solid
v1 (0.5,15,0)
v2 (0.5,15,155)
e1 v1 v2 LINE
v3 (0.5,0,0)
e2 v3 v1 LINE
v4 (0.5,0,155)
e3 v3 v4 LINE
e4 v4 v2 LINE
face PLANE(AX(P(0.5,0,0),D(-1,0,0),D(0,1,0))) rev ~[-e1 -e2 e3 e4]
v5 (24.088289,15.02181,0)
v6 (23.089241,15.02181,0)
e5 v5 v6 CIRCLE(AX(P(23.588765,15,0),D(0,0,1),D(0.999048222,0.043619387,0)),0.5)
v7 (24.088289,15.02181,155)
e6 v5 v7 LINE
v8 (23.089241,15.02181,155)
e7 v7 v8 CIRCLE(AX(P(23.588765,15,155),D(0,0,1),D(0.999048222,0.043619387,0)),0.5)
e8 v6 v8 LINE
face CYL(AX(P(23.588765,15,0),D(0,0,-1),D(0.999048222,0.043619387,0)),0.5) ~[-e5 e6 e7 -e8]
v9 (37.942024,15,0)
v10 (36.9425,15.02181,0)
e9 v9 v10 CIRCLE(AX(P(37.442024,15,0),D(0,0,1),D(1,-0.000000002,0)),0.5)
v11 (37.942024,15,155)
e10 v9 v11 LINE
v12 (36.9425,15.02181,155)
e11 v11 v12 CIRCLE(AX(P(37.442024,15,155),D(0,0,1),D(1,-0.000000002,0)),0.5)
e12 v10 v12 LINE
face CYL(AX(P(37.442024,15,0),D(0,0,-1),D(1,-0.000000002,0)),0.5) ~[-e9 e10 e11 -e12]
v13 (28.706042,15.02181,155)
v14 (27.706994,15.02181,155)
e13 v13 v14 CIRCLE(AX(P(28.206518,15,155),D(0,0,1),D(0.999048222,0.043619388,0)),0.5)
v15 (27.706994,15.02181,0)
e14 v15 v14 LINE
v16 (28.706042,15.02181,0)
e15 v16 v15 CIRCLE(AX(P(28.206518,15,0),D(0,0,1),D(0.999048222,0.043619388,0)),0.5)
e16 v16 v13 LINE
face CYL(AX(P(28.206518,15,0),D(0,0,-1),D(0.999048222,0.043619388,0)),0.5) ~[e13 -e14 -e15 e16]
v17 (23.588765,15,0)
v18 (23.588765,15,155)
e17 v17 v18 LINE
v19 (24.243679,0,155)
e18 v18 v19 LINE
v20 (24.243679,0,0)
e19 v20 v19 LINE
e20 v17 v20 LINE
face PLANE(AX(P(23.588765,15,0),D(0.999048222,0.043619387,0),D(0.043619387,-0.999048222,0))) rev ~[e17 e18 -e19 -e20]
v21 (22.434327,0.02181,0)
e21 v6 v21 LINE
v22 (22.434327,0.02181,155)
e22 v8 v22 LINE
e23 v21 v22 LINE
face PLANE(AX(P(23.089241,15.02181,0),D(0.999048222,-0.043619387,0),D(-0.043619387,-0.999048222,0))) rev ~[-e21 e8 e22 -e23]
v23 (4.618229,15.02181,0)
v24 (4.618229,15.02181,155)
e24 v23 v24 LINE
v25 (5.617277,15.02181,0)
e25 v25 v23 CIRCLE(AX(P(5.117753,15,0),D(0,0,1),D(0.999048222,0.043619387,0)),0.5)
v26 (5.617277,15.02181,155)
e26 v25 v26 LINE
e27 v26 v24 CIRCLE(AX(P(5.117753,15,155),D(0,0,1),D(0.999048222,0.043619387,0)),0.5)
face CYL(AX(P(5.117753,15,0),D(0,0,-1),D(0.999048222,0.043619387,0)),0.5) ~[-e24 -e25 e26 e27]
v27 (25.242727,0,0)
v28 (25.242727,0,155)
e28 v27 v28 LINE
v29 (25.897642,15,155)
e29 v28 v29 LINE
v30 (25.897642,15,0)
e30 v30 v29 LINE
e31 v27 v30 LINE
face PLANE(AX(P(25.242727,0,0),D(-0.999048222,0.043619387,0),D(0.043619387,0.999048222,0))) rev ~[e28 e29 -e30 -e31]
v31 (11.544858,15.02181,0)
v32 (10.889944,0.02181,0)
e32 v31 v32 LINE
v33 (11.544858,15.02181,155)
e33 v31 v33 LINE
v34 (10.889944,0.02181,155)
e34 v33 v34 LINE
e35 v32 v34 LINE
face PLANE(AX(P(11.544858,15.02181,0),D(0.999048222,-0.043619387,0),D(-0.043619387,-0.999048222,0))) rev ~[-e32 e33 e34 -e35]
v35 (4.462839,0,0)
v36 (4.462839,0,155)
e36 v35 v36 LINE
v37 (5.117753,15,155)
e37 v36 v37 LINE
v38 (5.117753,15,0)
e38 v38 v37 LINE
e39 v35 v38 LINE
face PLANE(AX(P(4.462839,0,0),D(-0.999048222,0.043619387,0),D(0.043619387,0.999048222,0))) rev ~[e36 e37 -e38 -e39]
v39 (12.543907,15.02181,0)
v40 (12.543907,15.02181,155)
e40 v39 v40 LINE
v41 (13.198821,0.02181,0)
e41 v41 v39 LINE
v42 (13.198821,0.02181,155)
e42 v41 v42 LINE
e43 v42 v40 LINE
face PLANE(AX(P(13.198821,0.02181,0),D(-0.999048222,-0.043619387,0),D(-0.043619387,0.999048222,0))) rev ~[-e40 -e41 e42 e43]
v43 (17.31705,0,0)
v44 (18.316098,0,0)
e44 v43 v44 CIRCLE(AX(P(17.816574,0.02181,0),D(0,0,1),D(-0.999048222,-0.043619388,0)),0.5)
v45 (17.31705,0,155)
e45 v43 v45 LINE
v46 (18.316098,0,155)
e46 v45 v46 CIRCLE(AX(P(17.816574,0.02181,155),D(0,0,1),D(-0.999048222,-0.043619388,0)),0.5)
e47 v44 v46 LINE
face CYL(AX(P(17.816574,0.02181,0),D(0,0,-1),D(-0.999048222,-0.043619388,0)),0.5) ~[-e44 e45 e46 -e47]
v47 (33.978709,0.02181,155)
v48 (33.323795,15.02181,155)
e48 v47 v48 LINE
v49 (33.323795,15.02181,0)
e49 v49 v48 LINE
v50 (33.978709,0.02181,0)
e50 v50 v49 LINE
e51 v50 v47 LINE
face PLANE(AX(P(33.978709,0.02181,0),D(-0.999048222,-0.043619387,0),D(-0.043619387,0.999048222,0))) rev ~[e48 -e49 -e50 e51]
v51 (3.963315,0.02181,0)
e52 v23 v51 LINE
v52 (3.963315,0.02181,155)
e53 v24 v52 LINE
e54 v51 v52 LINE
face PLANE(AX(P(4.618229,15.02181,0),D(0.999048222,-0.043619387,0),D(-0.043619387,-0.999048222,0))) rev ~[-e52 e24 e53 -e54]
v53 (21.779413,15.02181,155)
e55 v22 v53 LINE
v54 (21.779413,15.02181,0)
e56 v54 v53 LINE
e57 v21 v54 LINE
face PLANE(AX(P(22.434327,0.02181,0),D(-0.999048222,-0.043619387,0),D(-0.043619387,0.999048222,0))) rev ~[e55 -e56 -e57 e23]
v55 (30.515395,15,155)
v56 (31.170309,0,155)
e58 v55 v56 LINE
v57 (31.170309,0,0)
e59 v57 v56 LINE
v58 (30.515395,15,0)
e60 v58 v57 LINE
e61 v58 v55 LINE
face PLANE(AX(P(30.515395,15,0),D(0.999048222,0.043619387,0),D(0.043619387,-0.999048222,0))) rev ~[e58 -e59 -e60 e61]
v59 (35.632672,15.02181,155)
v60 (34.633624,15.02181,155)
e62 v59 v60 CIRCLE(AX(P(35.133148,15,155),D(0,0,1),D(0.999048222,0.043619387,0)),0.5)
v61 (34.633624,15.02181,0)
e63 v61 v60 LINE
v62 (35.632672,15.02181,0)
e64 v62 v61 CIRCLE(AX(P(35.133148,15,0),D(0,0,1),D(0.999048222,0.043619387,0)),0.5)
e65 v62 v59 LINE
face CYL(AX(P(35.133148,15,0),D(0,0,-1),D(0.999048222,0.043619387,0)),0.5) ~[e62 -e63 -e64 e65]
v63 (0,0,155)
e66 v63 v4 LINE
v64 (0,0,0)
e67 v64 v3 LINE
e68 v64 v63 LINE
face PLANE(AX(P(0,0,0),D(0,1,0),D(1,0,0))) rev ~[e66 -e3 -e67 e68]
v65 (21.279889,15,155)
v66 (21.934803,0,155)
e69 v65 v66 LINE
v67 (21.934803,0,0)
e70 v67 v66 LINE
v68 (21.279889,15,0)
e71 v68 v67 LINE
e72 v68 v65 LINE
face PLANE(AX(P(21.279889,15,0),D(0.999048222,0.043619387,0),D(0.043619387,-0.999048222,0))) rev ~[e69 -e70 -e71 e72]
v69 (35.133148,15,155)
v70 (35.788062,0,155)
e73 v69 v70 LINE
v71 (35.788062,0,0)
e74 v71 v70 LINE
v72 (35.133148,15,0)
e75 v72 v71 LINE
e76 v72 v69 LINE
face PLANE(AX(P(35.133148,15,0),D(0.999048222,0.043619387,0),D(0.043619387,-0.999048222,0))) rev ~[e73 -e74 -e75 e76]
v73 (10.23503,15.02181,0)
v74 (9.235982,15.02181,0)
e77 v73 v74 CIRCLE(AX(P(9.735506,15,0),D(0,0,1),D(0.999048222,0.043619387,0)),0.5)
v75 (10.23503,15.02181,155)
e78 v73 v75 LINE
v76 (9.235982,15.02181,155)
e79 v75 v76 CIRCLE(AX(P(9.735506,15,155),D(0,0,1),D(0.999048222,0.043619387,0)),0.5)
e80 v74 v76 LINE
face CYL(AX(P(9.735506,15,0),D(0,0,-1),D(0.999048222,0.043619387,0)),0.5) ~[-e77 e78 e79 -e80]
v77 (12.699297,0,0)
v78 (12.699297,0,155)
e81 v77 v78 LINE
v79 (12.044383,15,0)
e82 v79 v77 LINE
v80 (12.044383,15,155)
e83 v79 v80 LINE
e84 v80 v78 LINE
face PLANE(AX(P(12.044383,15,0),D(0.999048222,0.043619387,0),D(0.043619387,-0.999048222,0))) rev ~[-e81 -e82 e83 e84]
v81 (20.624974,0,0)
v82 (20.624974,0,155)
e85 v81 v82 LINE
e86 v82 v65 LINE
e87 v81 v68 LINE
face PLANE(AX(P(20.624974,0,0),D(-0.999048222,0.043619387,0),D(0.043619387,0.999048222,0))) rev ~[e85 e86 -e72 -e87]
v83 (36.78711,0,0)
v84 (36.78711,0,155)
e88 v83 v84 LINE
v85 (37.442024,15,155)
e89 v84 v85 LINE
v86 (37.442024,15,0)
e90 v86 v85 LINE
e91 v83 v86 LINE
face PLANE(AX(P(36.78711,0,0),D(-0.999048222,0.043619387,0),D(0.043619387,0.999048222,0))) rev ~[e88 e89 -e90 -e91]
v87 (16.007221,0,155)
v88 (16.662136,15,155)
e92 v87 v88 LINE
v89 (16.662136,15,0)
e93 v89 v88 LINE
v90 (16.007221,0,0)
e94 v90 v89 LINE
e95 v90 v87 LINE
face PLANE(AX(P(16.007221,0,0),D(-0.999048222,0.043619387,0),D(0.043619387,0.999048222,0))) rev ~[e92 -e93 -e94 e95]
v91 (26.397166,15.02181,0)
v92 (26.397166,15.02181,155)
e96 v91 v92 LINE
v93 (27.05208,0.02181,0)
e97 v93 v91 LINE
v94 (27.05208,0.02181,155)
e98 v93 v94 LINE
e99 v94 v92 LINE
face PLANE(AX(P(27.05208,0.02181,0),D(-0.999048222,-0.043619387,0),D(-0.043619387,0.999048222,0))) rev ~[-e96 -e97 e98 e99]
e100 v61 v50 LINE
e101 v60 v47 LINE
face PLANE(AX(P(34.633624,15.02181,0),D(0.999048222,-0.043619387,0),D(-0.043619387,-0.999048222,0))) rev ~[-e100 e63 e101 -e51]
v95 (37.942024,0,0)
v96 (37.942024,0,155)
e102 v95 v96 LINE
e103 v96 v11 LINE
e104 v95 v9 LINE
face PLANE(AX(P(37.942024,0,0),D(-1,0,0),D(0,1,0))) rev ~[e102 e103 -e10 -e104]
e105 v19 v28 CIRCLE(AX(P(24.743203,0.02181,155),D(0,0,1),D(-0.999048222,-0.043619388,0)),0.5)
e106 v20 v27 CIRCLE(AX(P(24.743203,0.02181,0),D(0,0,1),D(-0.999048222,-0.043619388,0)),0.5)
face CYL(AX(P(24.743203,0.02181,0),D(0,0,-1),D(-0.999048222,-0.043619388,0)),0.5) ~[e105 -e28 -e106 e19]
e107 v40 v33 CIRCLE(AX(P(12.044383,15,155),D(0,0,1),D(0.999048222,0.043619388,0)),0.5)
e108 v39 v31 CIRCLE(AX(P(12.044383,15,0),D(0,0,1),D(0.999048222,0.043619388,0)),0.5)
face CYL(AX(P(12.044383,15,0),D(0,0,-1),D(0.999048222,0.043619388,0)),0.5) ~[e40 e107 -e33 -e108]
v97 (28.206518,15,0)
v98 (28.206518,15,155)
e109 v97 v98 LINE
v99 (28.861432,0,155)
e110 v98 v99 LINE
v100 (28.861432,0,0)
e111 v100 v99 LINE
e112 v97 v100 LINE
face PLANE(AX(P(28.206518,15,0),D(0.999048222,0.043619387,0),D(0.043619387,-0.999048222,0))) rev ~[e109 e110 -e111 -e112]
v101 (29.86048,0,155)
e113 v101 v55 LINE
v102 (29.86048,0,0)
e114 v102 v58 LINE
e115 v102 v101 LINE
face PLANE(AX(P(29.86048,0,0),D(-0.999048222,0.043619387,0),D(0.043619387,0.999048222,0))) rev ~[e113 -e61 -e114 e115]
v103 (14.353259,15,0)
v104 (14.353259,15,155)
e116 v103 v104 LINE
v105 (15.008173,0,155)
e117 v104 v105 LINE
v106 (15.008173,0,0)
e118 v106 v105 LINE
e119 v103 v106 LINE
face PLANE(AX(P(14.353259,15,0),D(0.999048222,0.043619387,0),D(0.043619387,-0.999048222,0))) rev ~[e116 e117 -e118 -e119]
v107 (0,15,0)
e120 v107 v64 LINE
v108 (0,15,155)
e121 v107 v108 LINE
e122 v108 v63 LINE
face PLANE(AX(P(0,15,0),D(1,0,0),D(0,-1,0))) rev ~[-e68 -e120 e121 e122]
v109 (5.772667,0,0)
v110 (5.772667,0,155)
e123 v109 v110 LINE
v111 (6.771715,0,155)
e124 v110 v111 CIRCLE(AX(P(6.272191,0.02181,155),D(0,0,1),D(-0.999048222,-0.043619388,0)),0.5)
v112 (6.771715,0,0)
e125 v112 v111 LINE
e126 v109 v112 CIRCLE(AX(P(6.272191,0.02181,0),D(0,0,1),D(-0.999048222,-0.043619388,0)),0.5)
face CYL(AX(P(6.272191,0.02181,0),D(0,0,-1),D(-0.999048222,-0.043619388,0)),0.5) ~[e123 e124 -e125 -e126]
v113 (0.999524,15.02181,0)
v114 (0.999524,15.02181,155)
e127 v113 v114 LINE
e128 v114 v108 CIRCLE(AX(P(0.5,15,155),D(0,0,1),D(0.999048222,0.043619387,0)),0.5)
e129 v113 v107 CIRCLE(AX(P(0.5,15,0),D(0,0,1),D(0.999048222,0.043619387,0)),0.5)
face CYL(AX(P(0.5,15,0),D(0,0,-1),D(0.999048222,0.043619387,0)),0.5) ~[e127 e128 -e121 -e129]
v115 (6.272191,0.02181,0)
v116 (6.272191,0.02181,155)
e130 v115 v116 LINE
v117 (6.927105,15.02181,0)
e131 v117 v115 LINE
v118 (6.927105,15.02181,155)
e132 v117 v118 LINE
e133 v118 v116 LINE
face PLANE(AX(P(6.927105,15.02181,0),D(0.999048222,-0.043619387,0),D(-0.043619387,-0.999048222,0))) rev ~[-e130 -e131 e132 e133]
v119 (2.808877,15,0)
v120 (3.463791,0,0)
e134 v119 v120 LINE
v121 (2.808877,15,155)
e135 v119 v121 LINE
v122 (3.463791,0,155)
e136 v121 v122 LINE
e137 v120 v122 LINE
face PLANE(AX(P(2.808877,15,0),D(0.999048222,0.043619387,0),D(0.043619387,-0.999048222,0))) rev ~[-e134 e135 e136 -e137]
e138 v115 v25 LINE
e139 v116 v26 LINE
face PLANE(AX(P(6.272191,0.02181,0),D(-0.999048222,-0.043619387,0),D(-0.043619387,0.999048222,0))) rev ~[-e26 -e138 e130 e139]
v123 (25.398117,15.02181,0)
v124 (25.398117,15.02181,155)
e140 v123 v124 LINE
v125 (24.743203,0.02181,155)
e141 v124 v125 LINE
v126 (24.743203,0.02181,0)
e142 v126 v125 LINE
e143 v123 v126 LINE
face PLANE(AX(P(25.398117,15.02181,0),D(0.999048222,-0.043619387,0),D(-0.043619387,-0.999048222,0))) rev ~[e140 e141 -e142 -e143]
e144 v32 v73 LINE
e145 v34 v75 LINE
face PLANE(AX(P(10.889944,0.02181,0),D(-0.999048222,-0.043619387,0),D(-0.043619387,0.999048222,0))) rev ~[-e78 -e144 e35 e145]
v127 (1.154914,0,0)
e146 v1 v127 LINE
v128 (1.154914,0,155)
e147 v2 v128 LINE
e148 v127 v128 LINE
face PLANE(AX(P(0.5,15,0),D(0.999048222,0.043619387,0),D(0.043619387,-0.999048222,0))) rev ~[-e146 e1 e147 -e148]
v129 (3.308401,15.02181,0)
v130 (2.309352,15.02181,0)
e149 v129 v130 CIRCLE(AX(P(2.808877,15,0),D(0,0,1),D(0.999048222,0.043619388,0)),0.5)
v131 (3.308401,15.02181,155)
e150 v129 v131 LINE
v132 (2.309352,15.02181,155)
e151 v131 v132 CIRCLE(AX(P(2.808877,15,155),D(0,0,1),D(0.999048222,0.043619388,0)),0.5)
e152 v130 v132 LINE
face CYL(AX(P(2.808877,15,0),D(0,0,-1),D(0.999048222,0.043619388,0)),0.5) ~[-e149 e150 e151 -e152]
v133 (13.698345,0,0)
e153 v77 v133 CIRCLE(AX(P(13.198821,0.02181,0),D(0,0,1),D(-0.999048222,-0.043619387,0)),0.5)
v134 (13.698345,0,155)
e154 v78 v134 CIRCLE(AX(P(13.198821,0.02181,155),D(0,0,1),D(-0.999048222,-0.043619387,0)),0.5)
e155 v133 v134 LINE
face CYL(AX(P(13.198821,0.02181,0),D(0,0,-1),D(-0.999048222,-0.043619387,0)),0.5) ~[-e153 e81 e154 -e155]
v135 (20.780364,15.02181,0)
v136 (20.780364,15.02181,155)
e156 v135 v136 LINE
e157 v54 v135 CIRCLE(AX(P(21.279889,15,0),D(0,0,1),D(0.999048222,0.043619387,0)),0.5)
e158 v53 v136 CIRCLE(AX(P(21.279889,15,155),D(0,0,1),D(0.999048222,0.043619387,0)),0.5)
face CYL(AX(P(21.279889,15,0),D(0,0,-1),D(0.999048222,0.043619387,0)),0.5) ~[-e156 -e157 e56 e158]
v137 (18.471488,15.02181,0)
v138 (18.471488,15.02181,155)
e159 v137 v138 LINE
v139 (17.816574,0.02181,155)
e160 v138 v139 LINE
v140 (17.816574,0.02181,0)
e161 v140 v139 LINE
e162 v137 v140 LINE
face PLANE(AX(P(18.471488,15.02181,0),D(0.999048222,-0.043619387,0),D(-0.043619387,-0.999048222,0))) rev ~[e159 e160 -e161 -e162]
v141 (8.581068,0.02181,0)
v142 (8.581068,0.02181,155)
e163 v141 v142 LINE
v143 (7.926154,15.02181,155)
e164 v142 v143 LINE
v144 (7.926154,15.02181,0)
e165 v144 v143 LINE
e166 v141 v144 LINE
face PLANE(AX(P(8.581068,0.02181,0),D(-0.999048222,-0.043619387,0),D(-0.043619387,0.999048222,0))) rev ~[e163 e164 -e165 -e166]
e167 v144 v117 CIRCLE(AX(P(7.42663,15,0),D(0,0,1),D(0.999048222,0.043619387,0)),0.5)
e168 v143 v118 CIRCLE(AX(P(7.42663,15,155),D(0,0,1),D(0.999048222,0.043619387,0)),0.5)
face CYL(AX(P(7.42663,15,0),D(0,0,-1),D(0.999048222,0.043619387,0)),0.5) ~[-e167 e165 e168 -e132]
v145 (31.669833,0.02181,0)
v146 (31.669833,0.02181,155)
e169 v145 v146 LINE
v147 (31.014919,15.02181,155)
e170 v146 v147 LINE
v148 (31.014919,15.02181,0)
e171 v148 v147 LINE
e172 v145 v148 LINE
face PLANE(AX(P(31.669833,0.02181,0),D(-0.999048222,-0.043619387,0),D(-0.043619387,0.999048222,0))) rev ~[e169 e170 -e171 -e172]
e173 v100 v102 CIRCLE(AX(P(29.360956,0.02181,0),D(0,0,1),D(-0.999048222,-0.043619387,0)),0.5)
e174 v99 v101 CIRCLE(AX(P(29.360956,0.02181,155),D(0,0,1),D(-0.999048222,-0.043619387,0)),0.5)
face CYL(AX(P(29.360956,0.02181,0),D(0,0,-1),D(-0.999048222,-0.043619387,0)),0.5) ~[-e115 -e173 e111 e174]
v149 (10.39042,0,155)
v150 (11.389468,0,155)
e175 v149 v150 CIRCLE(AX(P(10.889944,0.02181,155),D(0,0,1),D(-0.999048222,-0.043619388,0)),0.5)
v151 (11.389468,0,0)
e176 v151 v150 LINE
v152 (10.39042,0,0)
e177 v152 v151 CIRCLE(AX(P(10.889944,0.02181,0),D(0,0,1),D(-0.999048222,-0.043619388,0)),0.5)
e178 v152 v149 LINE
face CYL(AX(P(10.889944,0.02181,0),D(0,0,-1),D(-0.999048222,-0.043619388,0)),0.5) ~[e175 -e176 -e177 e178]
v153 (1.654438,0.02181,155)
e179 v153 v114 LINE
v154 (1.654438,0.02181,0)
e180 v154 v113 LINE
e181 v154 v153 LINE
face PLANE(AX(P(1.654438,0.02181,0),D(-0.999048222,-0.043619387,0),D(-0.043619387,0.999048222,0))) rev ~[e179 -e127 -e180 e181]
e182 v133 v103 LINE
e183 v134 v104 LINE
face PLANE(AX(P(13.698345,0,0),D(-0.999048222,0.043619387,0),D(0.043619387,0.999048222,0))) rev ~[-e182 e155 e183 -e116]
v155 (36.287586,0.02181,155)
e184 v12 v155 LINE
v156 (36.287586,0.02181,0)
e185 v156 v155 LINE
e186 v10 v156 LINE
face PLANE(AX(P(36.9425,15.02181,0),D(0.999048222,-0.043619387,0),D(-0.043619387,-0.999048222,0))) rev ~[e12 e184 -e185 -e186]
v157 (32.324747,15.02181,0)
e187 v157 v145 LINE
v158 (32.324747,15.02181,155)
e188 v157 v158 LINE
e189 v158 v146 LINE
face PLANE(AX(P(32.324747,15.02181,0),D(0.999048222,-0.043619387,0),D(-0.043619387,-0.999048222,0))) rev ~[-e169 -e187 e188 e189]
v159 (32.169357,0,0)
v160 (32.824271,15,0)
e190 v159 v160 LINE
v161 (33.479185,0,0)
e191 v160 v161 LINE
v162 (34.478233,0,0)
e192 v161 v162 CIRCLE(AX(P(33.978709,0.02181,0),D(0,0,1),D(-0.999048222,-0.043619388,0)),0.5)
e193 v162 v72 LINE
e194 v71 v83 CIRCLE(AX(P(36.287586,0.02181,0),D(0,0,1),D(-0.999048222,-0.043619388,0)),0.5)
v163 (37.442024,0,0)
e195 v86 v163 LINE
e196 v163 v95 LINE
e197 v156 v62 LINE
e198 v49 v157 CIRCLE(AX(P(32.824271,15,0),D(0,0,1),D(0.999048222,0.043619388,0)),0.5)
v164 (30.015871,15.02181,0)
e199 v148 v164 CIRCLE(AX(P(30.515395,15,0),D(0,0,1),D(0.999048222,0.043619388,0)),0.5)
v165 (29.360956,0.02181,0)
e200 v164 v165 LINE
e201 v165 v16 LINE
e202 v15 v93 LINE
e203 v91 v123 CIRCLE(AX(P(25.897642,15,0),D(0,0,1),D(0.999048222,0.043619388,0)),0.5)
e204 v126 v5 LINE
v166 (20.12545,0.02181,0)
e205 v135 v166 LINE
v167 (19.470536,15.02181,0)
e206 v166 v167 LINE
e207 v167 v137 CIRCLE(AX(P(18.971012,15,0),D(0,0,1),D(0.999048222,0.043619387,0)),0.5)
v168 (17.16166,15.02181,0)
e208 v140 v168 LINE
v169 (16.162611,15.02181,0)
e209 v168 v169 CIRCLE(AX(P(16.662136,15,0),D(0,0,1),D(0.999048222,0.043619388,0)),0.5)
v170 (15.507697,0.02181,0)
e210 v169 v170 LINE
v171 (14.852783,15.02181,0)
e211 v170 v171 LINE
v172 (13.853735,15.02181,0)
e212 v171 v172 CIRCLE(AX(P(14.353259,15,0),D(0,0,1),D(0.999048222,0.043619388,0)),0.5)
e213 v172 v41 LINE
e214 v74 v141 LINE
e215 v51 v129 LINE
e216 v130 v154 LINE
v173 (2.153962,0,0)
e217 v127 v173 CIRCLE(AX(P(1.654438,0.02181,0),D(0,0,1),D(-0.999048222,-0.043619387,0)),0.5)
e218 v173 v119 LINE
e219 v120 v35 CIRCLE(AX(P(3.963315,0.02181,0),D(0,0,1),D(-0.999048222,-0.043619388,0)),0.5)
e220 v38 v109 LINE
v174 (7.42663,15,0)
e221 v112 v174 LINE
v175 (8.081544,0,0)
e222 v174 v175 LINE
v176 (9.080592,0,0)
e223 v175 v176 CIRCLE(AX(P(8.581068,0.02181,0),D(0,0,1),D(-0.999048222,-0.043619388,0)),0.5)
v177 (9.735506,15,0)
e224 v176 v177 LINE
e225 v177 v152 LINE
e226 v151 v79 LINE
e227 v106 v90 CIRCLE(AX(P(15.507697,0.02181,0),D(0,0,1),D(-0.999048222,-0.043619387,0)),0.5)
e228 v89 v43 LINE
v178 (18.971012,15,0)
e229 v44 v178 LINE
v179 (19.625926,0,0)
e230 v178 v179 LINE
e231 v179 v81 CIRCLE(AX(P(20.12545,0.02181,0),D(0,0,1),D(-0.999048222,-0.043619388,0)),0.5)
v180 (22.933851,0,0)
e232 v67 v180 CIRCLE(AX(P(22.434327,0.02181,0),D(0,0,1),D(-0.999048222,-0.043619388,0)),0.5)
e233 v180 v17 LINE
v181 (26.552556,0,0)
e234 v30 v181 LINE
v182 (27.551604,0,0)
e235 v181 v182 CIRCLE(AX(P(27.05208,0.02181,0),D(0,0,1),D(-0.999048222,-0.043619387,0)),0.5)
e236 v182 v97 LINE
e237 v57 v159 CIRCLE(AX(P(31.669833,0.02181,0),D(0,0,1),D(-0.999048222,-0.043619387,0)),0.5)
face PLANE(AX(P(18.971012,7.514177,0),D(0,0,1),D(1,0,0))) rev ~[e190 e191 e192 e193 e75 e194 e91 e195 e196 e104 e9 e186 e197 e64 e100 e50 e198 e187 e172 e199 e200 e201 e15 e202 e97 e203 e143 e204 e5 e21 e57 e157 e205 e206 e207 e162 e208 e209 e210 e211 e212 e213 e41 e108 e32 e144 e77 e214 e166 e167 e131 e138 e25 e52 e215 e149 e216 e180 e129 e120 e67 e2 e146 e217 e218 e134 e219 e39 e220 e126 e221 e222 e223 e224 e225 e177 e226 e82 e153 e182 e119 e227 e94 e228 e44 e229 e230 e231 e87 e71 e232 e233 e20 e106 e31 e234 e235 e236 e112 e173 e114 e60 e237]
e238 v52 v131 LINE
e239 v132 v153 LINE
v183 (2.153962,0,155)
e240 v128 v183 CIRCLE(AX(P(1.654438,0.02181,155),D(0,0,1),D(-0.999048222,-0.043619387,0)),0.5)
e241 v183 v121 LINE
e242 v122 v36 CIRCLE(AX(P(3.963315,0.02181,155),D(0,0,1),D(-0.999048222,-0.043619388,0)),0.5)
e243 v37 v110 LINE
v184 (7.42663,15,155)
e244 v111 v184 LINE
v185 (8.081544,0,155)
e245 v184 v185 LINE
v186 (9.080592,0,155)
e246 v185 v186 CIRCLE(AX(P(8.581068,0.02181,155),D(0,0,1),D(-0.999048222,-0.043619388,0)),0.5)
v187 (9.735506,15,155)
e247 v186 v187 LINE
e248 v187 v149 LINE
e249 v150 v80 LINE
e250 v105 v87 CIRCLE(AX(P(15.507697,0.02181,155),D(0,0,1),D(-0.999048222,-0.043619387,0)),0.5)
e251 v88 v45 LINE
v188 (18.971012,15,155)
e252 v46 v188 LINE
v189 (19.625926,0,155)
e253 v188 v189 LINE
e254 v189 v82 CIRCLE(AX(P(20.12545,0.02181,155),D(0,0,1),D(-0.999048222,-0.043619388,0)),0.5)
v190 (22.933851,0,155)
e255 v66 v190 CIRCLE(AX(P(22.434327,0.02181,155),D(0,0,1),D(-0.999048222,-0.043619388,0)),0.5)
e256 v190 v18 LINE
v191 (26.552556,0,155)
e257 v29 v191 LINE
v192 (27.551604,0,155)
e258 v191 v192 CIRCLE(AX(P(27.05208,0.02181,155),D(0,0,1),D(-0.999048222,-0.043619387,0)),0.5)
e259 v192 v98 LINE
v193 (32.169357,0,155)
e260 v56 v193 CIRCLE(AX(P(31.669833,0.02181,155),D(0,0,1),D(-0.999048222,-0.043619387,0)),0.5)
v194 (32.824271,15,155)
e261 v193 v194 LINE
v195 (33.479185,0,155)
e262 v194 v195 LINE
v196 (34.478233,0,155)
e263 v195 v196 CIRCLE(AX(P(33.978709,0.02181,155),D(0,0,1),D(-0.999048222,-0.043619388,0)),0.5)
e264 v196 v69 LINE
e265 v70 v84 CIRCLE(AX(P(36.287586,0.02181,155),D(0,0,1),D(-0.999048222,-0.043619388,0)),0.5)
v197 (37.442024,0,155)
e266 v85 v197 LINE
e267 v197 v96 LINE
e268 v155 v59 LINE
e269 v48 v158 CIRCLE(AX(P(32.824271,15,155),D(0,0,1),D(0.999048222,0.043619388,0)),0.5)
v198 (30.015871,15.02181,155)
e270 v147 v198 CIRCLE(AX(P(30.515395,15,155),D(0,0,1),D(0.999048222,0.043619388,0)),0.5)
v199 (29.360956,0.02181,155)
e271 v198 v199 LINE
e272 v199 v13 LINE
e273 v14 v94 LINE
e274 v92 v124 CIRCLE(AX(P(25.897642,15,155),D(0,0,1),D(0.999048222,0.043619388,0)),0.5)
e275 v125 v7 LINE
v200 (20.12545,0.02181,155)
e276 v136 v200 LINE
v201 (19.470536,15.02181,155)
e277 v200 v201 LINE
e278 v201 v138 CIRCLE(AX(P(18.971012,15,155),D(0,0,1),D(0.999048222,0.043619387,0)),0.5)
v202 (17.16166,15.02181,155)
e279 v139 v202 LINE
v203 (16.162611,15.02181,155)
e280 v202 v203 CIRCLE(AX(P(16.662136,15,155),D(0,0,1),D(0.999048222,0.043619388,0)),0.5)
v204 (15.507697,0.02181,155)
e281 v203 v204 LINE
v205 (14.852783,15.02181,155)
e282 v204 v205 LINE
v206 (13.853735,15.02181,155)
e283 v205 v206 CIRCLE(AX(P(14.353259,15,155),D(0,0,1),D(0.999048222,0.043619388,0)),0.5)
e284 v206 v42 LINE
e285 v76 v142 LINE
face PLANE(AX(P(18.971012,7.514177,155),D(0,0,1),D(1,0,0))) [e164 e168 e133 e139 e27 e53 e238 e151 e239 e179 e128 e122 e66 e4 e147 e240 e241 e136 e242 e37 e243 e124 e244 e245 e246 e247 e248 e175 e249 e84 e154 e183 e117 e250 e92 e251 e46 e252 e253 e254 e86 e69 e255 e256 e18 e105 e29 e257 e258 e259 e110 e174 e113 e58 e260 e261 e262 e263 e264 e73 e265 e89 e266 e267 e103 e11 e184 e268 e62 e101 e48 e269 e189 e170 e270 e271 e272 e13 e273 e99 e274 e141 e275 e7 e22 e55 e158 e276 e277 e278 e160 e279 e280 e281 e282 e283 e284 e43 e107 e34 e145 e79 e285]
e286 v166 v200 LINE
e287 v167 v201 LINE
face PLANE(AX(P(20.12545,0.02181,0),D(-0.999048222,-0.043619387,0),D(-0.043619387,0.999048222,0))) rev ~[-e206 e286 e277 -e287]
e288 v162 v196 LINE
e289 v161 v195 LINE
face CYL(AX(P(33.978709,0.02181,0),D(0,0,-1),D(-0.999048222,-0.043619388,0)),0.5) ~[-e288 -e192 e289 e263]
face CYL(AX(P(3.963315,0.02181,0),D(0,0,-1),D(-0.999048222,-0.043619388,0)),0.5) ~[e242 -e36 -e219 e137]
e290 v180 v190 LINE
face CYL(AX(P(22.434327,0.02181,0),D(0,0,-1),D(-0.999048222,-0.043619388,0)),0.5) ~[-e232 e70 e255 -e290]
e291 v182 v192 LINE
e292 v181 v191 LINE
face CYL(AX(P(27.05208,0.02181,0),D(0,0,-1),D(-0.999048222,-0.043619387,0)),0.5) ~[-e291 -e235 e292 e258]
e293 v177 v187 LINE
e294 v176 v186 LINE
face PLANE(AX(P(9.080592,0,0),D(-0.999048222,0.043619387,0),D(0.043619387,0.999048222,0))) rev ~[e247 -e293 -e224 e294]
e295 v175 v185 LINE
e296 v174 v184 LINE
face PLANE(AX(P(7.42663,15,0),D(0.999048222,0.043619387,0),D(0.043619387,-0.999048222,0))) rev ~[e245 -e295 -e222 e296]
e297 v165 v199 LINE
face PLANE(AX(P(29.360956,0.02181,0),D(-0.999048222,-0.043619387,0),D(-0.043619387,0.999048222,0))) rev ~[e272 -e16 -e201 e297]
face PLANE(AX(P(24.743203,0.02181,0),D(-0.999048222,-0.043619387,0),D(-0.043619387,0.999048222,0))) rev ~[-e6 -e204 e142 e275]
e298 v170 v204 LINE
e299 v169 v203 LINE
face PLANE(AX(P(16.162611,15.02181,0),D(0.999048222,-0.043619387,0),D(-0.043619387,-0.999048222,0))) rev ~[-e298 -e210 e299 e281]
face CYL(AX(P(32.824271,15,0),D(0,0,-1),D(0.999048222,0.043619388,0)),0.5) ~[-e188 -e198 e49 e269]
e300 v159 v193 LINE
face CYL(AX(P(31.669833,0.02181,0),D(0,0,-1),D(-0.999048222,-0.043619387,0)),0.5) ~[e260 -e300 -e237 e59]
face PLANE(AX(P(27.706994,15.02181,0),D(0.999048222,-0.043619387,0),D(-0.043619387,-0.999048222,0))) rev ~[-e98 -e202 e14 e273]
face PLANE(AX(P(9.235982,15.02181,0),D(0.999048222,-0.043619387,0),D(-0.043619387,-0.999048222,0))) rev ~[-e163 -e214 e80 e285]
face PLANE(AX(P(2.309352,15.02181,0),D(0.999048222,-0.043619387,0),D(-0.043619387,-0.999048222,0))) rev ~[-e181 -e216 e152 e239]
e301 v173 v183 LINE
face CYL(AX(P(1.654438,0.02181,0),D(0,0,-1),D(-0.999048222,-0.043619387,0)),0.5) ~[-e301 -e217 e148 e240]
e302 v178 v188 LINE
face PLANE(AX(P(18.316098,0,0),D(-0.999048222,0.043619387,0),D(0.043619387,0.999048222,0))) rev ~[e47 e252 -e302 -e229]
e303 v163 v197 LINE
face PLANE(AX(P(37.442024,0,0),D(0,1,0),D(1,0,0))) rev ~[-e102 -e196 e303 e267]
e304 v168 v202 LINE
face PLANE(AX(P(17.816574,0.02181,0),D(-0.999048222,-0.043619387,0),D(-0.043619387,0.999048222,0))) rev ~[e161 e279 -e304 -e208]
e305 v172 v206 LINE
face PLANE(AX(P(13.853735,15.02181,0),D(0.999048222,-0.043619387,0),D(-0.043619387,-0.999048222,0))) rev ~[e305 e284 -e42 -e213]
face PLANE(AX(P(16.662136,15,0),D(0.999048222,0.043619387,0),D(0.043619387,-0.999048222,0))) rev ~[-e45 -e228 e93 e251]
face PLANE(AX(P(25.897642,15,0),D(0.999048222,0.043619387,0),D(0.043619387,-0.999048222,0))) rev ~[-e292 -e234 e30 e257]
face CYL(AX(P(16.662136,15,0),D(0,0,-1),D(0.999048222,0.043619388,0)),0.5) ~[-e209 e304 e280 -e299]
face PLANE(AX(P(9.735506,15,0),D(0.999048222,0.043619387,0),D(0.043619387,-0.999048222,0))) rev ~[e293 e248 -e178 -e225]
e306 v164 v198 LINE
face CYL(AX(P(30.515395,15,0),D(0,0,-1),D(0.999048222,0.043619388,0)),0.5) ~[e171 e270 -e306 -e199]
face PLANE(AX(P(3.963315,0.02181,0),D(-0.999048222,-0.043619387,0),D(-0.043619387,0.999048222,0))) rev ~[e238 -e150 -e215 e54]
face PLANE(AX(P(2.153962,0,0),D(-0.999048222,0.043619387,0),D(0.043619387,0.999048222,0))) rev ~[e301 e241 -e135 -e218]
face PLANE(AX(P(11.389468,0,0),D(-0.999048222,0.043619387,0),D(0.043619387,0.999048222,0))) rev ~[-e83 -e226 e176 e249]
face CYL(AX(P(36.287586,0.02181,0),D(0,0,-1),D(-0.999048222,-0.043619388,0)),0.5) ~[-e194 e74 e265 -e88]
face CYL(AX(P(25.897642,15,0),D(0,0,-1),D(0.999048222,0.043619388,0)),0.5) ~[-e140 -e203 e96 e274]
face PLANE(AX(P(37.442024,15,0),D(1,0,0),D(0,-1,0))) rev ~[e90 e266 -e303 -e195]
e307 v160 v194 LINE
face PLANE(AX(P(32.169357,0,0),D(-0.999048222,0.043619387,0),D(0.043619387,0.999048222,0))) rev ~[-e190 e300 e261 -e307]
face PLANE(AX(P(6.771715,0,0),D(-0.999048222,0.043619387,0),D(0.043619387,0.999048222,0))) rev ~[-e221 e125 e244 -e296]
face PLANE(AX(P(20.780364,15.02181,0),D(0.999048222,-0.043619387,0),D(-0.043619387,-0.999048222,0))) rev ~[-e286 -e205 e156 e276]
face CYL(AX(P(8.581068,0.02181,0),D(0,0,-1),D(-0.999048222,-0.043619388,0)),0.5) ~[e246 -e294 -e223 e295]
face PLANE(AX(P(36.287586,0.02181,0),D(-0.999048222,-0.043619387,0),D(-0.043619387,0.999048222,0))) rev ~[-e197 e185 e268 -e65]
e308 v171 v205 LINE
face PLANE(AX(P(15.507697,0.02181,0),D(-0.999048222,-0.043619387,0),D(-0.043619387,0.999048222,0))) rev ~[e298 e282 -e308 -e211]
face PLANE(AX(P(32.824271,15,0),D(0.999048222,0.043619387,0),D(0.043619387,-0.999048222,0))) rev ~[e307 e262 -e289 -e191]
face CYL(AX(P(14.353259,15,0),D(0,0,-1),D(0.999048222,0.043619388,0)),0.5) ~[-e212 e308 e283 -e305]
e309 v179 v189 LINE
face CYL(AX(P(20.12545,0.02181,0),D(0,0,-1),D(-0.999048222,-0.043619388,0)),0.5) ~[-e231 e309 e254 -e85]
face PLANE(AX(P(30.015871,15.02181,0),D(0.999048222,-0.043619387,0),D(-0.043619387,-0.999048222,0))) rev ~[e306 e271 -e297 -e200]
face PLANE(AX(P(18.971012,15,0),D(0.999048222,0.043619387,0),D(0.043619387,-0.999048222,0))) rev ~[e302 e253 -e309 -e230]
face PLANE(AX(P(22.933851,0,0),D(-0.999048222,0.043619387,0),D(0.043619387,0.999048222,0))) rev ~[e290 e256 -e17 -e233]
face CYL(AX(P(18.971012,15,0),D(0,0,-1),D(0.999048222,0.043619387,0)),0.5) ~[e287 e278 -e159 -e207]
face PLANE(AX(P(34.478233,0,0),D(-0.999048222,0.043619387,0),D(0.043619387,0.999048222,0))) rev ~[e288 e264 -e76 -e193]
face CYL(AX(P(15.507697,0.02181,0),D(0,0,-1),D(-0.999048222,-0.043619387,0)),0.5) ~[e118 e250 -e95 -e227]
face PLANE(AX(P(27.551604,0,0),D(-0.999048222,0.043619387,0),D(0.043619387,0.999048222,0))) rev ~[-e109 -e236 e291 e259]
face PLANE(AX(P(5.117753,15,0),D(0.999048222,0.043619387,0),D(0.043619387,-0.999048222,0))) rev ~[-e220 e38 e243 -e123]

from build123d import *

# Parameters (mm, degrees)
EXTRUDE_4_DEPTH = 155


with BuildPart() as part:
    # 草图1 → 凸台-拉伸4 (new body)
    with BuildSketch(Plane.XY):
        with BuildLine():
            Line((1.654438254, 0.021809694), (0.999524111, 15.021809694))
            ThreePointArc((0.999524111, 15.021809694), (0.489092557, 15.499881014), (0, 15))
            Line((0, 15), (0, 0))
            Line((0, 0), (0.5, 0))
            Line((0.5, 0), (0.5, 15))
            Line((0.5, 15), (1.154914144, 0))
            ThreePointArc((1.154914144, 0), (1.654438254, -0.478190306), (2.153962365, 0))
            Line((2.153962365, 0), (2.808876509, 15))
            Line((2.808876509, 15), (3.463790652, 0))
            ThreePointArc((3.463790652, 0), (3.963314763, -0.478190306), (4.462838874, 0))
            Line((4.462838874, 0), (5.117753018, 15))
            Line((5.117753018, 15), (5.772667161, 0))
            ThreePointArc((5.772667161, 0), (6.272191272, -0.478190306), (6.771715383, 0))
            Line((6.771715383, 0), (7.426629527, 15))
            Line((7.426629527, 15), (8.08154367, 0))
            ThreePointArc((8.08154367, 0), (8.581067781, -0.478190306), (9.080591892, 0))
            Line((9.080591892, 0), (9.735506035, 15))
            Line((9.735506035, 15), (10.390420179, 0))
            ThreePointArc((10.390420179, 0), (10.88994429, -0.478190306), (11.389468401, 0))
            Line((11.389468401, 0), (12.044382544, 15))
            Line((12.044382544, 15), (12.699296688, 0))
            ThreePointArc((12.699296688, 0), (13.198820799, -0.478190306), (13.698344909, 0))
            Line((13.698344909, 0), (14.353259053, 15))
            Line((14.353259053, 15), (15.008173197, 0))
            ThreePointArc((15.008173197, 0), (15.507697307, -0.478190306), (16.007221418, 0))
            Line((16.007221418, 0), (16.662135562, 15))
            Line((16.662135562, 15), (17.317049705, 0))
            ThreePointArc((17.317049705, 0), (17.816573816, -0.478190306), (18.316097927, 0))
            Line((18.316097927, 0), (18.971012071, 15))
            Line((18.971012071, 15), (19.625926214, 0))
            ThreePointArc((19.625926214, 0), (20.125450325, -0.478190306), (20.624974436, 0))
            Line((20.624974436, 0), (21.27988858, 15))
            Line((21.27988858, 15), (21.934802723, 0))
            ThreePointArc((21.934802723, 0), (22.434326834, -0.478190306), (22.933850945, 0))
            Line((22.933850945, 0), (23.588765088, 15))
            Line((23.588765088, 15), (24.243679232, 0))
            ThreePointArc((24.243679232, 0), (24.743203343, -0.478190306), (25.242727454, 0))
            Line((25.242727454, 0), (25.897641597, 15))
            Line((25.897641597, 15), (26.552555741, 0))
            ThreePointArc((26.552555741, 0), (27.052079852, -0.478190306), (27.551603962, 0))
            Line((27.551603962, 0), (28.206518106, 15))
            Line((28.206518106, 15), (28.86143225, 0))
            ThreePointArc((28.86143225, 0), (29.36095636, -0.478190306), (29.860480471, 0))
            Line((29.860480471, 0), (30.515394615, 15))
            Line((30.515394615, 15), (31.170308759, 0))
            ThreePointArc((31.170308759, 0), (31.669832869, -0.478190306), (32.16935698, 0))
            Line((32.16935698, 0), (32.824271124, 15))
            Line((32.824271124, 15), (33.479185267, 0))
            ThreePointArc((33.479185267, 0), (33.978709378, -0.478190306), (34.478233489, 0))
            Line((34.478233489, 0), (35.133147633, 15))
            Line((35.133147633, 15), (35.788061776, 0))
            ThreePointArc((35.788061776, 0), (36.287585887, -0.478190306), (36.787109998, 0))
            Line((36.787109998, 0), (37.442024141, 15))
            Line((37.442024141, 15), (37.442024141, 0))
            Line((37.442024141, 0), (37.942024141, 0))
            Line((37.942024141, 0), (37.942024141, 15))
            ThreePointArc((37.942024141, 15), (37.452931584, 15.499881014), (36.942500031, 15.021809694))
            Line((36.942500031, 15.021809694), (36.287585887, 0.021809694))
            Line((36.287585887, 0.021809694), (35.632671743, 15.021809694))
            ThreePointArc((35.632671743, 15.021809694), (35.133147633, 15.5), (34.633623522, 15.021809694))
            Line((34.633623522, 15.021809694), (33.978709378, 0.021809694))
            Line((33.978709378, 0.021809694), (33.323795235, 15.021809694))
            ThreePointArc((33.323795235, 15.021809694), (32.824271124, 15.5), (32.324747013, 15.021809694))
            Line((32.324747013, 15.021809694), (31.669832869, 0.021809694))
            Line((31.669832869, 0.021809694), (31.014918726, 15.021809694))
            ThreePointArc((31.014918726, 15.021809694), (30.515394615, 15.5), (30.015870504, 15.021809694))
            Line((30.015870504, 15.021809694), (29.36095636, 0.021809694))
            Line((29.36095636, 0.021809694), (28.706042217, 15.021809694))
            ThreePointArc((28.706042217, 15.021809694), (28.206518106, 15.5), (27.706993995, 15.021809694))
            Line((27.706993995, 15.021809694), (27.052079852, 0.021809694))
            Line((27.052079852, 0.021809694), (26.397165708, 15.021809694))
            ThreePointArc((26.397165708, 15.021809694), (25.897641597, 15.5), (25.398117486, 15.021809694))
            Line((25.398117486, 15.021809694), (24.743203343, 0.021809694))
            Line((24.743203343, 0.021809694), (24.088289199, 15.021809694))
            ThreePointArc((24.088289199, 15.021809694), (23.588765088, 15.5), (23.089240978, 15.021809694))
            Line((23.089240978, 15.021809694), (22.434326834, 0.021809694))
            Line((22.434326834, 0.021809694), (21.77941269, 15.021809694))
            ThreePointArc((21.77941269, 15.021809694), (21.27988858, 15.5), (20.780364469, 15.021809694))
            Line((20.780364469, 15.021809694), (20.125450325, 0.021809694))
            Line((20.125450325, 0.021809694), (19.470536181, 15.021809694))
            ThreePointArc((19.470536181, 15.021809694), (18.971012071, 15.5), (18.47148796, 15.021809694))
            Line((18.47148796, 15.021809694), (17.816573816, 0.021809694))
            Line((17.816573816, 0.021809694), (17.161659673, 15.021809694))
            ThreePointArc((17.161659673, 15.021809694), (16.662135562, 15.5), (16.162611451, 15.021809694))
            Line((16.162611451, 15.021809694), (15.507697307, 0.021809694))
            Line((15.507697307, 0.021809694), (14.852783164, 15.021809694))
            ThreePointArc((14.852783164, 15.021809694), (14.353259053, 15.5), (13.853734942, 15.021809694))
            Line((13.853734942, 15.021809694), (13.198820799, 0.021809694))
            Line((13.198820799, 0.021809694), (12.543906655, 15.021809694))
            ThreePointArc((12.543906655, 15.021809694), (12.044382544, 15.5), (11.544858433, 15.021809694))
            Line((11.544858433, 15.021809694), (10.88994429, 0.021809694))
            Line((10.88994429, 0.021809694), (10.235030146, 15.021809694))
            ThreePointArc((10.235030146, 15.021809694), (9.735506035, 15.5), (9.235981925, 15.021809694))
            Line((9.235981925, 15.021809694), (8.581067781, 0.021809694))
            Line((8.581067781, 0.021809694), (7.926153637, 15.021809694))
            ThreePointArc((7.926153637, 15.021809694), (7.426629527, 15.5), (6.927105416, 15.021809694))
            Line((6.927105416, 15.021809694), (6.272191272, 0.021809694))
            Line((6.272191272, 0.021809694), (5.617277128, 15.021809694))
            ThreePointArc((5.617277128, 15.021809694), (5.117753018, 15.5), (4.618228907, 15.021809694))
            Line((4.618228907, 15.021809694), (3.963314763, 0.021809694))
            Line((3.963314763, 0.021809694), (3.30840062, 15.021809694))
            ThreePointArc((3.30840062, 15.021809694), (2.808876509, 15.5), (2.309352398, 15.021809694))
            Line((2.309352398, 15.021809694), (1.654438254, 0.021809694))
        make_face()
    extrude(amount=EXTRUDE_4_DEPTH)


solid = part.part
